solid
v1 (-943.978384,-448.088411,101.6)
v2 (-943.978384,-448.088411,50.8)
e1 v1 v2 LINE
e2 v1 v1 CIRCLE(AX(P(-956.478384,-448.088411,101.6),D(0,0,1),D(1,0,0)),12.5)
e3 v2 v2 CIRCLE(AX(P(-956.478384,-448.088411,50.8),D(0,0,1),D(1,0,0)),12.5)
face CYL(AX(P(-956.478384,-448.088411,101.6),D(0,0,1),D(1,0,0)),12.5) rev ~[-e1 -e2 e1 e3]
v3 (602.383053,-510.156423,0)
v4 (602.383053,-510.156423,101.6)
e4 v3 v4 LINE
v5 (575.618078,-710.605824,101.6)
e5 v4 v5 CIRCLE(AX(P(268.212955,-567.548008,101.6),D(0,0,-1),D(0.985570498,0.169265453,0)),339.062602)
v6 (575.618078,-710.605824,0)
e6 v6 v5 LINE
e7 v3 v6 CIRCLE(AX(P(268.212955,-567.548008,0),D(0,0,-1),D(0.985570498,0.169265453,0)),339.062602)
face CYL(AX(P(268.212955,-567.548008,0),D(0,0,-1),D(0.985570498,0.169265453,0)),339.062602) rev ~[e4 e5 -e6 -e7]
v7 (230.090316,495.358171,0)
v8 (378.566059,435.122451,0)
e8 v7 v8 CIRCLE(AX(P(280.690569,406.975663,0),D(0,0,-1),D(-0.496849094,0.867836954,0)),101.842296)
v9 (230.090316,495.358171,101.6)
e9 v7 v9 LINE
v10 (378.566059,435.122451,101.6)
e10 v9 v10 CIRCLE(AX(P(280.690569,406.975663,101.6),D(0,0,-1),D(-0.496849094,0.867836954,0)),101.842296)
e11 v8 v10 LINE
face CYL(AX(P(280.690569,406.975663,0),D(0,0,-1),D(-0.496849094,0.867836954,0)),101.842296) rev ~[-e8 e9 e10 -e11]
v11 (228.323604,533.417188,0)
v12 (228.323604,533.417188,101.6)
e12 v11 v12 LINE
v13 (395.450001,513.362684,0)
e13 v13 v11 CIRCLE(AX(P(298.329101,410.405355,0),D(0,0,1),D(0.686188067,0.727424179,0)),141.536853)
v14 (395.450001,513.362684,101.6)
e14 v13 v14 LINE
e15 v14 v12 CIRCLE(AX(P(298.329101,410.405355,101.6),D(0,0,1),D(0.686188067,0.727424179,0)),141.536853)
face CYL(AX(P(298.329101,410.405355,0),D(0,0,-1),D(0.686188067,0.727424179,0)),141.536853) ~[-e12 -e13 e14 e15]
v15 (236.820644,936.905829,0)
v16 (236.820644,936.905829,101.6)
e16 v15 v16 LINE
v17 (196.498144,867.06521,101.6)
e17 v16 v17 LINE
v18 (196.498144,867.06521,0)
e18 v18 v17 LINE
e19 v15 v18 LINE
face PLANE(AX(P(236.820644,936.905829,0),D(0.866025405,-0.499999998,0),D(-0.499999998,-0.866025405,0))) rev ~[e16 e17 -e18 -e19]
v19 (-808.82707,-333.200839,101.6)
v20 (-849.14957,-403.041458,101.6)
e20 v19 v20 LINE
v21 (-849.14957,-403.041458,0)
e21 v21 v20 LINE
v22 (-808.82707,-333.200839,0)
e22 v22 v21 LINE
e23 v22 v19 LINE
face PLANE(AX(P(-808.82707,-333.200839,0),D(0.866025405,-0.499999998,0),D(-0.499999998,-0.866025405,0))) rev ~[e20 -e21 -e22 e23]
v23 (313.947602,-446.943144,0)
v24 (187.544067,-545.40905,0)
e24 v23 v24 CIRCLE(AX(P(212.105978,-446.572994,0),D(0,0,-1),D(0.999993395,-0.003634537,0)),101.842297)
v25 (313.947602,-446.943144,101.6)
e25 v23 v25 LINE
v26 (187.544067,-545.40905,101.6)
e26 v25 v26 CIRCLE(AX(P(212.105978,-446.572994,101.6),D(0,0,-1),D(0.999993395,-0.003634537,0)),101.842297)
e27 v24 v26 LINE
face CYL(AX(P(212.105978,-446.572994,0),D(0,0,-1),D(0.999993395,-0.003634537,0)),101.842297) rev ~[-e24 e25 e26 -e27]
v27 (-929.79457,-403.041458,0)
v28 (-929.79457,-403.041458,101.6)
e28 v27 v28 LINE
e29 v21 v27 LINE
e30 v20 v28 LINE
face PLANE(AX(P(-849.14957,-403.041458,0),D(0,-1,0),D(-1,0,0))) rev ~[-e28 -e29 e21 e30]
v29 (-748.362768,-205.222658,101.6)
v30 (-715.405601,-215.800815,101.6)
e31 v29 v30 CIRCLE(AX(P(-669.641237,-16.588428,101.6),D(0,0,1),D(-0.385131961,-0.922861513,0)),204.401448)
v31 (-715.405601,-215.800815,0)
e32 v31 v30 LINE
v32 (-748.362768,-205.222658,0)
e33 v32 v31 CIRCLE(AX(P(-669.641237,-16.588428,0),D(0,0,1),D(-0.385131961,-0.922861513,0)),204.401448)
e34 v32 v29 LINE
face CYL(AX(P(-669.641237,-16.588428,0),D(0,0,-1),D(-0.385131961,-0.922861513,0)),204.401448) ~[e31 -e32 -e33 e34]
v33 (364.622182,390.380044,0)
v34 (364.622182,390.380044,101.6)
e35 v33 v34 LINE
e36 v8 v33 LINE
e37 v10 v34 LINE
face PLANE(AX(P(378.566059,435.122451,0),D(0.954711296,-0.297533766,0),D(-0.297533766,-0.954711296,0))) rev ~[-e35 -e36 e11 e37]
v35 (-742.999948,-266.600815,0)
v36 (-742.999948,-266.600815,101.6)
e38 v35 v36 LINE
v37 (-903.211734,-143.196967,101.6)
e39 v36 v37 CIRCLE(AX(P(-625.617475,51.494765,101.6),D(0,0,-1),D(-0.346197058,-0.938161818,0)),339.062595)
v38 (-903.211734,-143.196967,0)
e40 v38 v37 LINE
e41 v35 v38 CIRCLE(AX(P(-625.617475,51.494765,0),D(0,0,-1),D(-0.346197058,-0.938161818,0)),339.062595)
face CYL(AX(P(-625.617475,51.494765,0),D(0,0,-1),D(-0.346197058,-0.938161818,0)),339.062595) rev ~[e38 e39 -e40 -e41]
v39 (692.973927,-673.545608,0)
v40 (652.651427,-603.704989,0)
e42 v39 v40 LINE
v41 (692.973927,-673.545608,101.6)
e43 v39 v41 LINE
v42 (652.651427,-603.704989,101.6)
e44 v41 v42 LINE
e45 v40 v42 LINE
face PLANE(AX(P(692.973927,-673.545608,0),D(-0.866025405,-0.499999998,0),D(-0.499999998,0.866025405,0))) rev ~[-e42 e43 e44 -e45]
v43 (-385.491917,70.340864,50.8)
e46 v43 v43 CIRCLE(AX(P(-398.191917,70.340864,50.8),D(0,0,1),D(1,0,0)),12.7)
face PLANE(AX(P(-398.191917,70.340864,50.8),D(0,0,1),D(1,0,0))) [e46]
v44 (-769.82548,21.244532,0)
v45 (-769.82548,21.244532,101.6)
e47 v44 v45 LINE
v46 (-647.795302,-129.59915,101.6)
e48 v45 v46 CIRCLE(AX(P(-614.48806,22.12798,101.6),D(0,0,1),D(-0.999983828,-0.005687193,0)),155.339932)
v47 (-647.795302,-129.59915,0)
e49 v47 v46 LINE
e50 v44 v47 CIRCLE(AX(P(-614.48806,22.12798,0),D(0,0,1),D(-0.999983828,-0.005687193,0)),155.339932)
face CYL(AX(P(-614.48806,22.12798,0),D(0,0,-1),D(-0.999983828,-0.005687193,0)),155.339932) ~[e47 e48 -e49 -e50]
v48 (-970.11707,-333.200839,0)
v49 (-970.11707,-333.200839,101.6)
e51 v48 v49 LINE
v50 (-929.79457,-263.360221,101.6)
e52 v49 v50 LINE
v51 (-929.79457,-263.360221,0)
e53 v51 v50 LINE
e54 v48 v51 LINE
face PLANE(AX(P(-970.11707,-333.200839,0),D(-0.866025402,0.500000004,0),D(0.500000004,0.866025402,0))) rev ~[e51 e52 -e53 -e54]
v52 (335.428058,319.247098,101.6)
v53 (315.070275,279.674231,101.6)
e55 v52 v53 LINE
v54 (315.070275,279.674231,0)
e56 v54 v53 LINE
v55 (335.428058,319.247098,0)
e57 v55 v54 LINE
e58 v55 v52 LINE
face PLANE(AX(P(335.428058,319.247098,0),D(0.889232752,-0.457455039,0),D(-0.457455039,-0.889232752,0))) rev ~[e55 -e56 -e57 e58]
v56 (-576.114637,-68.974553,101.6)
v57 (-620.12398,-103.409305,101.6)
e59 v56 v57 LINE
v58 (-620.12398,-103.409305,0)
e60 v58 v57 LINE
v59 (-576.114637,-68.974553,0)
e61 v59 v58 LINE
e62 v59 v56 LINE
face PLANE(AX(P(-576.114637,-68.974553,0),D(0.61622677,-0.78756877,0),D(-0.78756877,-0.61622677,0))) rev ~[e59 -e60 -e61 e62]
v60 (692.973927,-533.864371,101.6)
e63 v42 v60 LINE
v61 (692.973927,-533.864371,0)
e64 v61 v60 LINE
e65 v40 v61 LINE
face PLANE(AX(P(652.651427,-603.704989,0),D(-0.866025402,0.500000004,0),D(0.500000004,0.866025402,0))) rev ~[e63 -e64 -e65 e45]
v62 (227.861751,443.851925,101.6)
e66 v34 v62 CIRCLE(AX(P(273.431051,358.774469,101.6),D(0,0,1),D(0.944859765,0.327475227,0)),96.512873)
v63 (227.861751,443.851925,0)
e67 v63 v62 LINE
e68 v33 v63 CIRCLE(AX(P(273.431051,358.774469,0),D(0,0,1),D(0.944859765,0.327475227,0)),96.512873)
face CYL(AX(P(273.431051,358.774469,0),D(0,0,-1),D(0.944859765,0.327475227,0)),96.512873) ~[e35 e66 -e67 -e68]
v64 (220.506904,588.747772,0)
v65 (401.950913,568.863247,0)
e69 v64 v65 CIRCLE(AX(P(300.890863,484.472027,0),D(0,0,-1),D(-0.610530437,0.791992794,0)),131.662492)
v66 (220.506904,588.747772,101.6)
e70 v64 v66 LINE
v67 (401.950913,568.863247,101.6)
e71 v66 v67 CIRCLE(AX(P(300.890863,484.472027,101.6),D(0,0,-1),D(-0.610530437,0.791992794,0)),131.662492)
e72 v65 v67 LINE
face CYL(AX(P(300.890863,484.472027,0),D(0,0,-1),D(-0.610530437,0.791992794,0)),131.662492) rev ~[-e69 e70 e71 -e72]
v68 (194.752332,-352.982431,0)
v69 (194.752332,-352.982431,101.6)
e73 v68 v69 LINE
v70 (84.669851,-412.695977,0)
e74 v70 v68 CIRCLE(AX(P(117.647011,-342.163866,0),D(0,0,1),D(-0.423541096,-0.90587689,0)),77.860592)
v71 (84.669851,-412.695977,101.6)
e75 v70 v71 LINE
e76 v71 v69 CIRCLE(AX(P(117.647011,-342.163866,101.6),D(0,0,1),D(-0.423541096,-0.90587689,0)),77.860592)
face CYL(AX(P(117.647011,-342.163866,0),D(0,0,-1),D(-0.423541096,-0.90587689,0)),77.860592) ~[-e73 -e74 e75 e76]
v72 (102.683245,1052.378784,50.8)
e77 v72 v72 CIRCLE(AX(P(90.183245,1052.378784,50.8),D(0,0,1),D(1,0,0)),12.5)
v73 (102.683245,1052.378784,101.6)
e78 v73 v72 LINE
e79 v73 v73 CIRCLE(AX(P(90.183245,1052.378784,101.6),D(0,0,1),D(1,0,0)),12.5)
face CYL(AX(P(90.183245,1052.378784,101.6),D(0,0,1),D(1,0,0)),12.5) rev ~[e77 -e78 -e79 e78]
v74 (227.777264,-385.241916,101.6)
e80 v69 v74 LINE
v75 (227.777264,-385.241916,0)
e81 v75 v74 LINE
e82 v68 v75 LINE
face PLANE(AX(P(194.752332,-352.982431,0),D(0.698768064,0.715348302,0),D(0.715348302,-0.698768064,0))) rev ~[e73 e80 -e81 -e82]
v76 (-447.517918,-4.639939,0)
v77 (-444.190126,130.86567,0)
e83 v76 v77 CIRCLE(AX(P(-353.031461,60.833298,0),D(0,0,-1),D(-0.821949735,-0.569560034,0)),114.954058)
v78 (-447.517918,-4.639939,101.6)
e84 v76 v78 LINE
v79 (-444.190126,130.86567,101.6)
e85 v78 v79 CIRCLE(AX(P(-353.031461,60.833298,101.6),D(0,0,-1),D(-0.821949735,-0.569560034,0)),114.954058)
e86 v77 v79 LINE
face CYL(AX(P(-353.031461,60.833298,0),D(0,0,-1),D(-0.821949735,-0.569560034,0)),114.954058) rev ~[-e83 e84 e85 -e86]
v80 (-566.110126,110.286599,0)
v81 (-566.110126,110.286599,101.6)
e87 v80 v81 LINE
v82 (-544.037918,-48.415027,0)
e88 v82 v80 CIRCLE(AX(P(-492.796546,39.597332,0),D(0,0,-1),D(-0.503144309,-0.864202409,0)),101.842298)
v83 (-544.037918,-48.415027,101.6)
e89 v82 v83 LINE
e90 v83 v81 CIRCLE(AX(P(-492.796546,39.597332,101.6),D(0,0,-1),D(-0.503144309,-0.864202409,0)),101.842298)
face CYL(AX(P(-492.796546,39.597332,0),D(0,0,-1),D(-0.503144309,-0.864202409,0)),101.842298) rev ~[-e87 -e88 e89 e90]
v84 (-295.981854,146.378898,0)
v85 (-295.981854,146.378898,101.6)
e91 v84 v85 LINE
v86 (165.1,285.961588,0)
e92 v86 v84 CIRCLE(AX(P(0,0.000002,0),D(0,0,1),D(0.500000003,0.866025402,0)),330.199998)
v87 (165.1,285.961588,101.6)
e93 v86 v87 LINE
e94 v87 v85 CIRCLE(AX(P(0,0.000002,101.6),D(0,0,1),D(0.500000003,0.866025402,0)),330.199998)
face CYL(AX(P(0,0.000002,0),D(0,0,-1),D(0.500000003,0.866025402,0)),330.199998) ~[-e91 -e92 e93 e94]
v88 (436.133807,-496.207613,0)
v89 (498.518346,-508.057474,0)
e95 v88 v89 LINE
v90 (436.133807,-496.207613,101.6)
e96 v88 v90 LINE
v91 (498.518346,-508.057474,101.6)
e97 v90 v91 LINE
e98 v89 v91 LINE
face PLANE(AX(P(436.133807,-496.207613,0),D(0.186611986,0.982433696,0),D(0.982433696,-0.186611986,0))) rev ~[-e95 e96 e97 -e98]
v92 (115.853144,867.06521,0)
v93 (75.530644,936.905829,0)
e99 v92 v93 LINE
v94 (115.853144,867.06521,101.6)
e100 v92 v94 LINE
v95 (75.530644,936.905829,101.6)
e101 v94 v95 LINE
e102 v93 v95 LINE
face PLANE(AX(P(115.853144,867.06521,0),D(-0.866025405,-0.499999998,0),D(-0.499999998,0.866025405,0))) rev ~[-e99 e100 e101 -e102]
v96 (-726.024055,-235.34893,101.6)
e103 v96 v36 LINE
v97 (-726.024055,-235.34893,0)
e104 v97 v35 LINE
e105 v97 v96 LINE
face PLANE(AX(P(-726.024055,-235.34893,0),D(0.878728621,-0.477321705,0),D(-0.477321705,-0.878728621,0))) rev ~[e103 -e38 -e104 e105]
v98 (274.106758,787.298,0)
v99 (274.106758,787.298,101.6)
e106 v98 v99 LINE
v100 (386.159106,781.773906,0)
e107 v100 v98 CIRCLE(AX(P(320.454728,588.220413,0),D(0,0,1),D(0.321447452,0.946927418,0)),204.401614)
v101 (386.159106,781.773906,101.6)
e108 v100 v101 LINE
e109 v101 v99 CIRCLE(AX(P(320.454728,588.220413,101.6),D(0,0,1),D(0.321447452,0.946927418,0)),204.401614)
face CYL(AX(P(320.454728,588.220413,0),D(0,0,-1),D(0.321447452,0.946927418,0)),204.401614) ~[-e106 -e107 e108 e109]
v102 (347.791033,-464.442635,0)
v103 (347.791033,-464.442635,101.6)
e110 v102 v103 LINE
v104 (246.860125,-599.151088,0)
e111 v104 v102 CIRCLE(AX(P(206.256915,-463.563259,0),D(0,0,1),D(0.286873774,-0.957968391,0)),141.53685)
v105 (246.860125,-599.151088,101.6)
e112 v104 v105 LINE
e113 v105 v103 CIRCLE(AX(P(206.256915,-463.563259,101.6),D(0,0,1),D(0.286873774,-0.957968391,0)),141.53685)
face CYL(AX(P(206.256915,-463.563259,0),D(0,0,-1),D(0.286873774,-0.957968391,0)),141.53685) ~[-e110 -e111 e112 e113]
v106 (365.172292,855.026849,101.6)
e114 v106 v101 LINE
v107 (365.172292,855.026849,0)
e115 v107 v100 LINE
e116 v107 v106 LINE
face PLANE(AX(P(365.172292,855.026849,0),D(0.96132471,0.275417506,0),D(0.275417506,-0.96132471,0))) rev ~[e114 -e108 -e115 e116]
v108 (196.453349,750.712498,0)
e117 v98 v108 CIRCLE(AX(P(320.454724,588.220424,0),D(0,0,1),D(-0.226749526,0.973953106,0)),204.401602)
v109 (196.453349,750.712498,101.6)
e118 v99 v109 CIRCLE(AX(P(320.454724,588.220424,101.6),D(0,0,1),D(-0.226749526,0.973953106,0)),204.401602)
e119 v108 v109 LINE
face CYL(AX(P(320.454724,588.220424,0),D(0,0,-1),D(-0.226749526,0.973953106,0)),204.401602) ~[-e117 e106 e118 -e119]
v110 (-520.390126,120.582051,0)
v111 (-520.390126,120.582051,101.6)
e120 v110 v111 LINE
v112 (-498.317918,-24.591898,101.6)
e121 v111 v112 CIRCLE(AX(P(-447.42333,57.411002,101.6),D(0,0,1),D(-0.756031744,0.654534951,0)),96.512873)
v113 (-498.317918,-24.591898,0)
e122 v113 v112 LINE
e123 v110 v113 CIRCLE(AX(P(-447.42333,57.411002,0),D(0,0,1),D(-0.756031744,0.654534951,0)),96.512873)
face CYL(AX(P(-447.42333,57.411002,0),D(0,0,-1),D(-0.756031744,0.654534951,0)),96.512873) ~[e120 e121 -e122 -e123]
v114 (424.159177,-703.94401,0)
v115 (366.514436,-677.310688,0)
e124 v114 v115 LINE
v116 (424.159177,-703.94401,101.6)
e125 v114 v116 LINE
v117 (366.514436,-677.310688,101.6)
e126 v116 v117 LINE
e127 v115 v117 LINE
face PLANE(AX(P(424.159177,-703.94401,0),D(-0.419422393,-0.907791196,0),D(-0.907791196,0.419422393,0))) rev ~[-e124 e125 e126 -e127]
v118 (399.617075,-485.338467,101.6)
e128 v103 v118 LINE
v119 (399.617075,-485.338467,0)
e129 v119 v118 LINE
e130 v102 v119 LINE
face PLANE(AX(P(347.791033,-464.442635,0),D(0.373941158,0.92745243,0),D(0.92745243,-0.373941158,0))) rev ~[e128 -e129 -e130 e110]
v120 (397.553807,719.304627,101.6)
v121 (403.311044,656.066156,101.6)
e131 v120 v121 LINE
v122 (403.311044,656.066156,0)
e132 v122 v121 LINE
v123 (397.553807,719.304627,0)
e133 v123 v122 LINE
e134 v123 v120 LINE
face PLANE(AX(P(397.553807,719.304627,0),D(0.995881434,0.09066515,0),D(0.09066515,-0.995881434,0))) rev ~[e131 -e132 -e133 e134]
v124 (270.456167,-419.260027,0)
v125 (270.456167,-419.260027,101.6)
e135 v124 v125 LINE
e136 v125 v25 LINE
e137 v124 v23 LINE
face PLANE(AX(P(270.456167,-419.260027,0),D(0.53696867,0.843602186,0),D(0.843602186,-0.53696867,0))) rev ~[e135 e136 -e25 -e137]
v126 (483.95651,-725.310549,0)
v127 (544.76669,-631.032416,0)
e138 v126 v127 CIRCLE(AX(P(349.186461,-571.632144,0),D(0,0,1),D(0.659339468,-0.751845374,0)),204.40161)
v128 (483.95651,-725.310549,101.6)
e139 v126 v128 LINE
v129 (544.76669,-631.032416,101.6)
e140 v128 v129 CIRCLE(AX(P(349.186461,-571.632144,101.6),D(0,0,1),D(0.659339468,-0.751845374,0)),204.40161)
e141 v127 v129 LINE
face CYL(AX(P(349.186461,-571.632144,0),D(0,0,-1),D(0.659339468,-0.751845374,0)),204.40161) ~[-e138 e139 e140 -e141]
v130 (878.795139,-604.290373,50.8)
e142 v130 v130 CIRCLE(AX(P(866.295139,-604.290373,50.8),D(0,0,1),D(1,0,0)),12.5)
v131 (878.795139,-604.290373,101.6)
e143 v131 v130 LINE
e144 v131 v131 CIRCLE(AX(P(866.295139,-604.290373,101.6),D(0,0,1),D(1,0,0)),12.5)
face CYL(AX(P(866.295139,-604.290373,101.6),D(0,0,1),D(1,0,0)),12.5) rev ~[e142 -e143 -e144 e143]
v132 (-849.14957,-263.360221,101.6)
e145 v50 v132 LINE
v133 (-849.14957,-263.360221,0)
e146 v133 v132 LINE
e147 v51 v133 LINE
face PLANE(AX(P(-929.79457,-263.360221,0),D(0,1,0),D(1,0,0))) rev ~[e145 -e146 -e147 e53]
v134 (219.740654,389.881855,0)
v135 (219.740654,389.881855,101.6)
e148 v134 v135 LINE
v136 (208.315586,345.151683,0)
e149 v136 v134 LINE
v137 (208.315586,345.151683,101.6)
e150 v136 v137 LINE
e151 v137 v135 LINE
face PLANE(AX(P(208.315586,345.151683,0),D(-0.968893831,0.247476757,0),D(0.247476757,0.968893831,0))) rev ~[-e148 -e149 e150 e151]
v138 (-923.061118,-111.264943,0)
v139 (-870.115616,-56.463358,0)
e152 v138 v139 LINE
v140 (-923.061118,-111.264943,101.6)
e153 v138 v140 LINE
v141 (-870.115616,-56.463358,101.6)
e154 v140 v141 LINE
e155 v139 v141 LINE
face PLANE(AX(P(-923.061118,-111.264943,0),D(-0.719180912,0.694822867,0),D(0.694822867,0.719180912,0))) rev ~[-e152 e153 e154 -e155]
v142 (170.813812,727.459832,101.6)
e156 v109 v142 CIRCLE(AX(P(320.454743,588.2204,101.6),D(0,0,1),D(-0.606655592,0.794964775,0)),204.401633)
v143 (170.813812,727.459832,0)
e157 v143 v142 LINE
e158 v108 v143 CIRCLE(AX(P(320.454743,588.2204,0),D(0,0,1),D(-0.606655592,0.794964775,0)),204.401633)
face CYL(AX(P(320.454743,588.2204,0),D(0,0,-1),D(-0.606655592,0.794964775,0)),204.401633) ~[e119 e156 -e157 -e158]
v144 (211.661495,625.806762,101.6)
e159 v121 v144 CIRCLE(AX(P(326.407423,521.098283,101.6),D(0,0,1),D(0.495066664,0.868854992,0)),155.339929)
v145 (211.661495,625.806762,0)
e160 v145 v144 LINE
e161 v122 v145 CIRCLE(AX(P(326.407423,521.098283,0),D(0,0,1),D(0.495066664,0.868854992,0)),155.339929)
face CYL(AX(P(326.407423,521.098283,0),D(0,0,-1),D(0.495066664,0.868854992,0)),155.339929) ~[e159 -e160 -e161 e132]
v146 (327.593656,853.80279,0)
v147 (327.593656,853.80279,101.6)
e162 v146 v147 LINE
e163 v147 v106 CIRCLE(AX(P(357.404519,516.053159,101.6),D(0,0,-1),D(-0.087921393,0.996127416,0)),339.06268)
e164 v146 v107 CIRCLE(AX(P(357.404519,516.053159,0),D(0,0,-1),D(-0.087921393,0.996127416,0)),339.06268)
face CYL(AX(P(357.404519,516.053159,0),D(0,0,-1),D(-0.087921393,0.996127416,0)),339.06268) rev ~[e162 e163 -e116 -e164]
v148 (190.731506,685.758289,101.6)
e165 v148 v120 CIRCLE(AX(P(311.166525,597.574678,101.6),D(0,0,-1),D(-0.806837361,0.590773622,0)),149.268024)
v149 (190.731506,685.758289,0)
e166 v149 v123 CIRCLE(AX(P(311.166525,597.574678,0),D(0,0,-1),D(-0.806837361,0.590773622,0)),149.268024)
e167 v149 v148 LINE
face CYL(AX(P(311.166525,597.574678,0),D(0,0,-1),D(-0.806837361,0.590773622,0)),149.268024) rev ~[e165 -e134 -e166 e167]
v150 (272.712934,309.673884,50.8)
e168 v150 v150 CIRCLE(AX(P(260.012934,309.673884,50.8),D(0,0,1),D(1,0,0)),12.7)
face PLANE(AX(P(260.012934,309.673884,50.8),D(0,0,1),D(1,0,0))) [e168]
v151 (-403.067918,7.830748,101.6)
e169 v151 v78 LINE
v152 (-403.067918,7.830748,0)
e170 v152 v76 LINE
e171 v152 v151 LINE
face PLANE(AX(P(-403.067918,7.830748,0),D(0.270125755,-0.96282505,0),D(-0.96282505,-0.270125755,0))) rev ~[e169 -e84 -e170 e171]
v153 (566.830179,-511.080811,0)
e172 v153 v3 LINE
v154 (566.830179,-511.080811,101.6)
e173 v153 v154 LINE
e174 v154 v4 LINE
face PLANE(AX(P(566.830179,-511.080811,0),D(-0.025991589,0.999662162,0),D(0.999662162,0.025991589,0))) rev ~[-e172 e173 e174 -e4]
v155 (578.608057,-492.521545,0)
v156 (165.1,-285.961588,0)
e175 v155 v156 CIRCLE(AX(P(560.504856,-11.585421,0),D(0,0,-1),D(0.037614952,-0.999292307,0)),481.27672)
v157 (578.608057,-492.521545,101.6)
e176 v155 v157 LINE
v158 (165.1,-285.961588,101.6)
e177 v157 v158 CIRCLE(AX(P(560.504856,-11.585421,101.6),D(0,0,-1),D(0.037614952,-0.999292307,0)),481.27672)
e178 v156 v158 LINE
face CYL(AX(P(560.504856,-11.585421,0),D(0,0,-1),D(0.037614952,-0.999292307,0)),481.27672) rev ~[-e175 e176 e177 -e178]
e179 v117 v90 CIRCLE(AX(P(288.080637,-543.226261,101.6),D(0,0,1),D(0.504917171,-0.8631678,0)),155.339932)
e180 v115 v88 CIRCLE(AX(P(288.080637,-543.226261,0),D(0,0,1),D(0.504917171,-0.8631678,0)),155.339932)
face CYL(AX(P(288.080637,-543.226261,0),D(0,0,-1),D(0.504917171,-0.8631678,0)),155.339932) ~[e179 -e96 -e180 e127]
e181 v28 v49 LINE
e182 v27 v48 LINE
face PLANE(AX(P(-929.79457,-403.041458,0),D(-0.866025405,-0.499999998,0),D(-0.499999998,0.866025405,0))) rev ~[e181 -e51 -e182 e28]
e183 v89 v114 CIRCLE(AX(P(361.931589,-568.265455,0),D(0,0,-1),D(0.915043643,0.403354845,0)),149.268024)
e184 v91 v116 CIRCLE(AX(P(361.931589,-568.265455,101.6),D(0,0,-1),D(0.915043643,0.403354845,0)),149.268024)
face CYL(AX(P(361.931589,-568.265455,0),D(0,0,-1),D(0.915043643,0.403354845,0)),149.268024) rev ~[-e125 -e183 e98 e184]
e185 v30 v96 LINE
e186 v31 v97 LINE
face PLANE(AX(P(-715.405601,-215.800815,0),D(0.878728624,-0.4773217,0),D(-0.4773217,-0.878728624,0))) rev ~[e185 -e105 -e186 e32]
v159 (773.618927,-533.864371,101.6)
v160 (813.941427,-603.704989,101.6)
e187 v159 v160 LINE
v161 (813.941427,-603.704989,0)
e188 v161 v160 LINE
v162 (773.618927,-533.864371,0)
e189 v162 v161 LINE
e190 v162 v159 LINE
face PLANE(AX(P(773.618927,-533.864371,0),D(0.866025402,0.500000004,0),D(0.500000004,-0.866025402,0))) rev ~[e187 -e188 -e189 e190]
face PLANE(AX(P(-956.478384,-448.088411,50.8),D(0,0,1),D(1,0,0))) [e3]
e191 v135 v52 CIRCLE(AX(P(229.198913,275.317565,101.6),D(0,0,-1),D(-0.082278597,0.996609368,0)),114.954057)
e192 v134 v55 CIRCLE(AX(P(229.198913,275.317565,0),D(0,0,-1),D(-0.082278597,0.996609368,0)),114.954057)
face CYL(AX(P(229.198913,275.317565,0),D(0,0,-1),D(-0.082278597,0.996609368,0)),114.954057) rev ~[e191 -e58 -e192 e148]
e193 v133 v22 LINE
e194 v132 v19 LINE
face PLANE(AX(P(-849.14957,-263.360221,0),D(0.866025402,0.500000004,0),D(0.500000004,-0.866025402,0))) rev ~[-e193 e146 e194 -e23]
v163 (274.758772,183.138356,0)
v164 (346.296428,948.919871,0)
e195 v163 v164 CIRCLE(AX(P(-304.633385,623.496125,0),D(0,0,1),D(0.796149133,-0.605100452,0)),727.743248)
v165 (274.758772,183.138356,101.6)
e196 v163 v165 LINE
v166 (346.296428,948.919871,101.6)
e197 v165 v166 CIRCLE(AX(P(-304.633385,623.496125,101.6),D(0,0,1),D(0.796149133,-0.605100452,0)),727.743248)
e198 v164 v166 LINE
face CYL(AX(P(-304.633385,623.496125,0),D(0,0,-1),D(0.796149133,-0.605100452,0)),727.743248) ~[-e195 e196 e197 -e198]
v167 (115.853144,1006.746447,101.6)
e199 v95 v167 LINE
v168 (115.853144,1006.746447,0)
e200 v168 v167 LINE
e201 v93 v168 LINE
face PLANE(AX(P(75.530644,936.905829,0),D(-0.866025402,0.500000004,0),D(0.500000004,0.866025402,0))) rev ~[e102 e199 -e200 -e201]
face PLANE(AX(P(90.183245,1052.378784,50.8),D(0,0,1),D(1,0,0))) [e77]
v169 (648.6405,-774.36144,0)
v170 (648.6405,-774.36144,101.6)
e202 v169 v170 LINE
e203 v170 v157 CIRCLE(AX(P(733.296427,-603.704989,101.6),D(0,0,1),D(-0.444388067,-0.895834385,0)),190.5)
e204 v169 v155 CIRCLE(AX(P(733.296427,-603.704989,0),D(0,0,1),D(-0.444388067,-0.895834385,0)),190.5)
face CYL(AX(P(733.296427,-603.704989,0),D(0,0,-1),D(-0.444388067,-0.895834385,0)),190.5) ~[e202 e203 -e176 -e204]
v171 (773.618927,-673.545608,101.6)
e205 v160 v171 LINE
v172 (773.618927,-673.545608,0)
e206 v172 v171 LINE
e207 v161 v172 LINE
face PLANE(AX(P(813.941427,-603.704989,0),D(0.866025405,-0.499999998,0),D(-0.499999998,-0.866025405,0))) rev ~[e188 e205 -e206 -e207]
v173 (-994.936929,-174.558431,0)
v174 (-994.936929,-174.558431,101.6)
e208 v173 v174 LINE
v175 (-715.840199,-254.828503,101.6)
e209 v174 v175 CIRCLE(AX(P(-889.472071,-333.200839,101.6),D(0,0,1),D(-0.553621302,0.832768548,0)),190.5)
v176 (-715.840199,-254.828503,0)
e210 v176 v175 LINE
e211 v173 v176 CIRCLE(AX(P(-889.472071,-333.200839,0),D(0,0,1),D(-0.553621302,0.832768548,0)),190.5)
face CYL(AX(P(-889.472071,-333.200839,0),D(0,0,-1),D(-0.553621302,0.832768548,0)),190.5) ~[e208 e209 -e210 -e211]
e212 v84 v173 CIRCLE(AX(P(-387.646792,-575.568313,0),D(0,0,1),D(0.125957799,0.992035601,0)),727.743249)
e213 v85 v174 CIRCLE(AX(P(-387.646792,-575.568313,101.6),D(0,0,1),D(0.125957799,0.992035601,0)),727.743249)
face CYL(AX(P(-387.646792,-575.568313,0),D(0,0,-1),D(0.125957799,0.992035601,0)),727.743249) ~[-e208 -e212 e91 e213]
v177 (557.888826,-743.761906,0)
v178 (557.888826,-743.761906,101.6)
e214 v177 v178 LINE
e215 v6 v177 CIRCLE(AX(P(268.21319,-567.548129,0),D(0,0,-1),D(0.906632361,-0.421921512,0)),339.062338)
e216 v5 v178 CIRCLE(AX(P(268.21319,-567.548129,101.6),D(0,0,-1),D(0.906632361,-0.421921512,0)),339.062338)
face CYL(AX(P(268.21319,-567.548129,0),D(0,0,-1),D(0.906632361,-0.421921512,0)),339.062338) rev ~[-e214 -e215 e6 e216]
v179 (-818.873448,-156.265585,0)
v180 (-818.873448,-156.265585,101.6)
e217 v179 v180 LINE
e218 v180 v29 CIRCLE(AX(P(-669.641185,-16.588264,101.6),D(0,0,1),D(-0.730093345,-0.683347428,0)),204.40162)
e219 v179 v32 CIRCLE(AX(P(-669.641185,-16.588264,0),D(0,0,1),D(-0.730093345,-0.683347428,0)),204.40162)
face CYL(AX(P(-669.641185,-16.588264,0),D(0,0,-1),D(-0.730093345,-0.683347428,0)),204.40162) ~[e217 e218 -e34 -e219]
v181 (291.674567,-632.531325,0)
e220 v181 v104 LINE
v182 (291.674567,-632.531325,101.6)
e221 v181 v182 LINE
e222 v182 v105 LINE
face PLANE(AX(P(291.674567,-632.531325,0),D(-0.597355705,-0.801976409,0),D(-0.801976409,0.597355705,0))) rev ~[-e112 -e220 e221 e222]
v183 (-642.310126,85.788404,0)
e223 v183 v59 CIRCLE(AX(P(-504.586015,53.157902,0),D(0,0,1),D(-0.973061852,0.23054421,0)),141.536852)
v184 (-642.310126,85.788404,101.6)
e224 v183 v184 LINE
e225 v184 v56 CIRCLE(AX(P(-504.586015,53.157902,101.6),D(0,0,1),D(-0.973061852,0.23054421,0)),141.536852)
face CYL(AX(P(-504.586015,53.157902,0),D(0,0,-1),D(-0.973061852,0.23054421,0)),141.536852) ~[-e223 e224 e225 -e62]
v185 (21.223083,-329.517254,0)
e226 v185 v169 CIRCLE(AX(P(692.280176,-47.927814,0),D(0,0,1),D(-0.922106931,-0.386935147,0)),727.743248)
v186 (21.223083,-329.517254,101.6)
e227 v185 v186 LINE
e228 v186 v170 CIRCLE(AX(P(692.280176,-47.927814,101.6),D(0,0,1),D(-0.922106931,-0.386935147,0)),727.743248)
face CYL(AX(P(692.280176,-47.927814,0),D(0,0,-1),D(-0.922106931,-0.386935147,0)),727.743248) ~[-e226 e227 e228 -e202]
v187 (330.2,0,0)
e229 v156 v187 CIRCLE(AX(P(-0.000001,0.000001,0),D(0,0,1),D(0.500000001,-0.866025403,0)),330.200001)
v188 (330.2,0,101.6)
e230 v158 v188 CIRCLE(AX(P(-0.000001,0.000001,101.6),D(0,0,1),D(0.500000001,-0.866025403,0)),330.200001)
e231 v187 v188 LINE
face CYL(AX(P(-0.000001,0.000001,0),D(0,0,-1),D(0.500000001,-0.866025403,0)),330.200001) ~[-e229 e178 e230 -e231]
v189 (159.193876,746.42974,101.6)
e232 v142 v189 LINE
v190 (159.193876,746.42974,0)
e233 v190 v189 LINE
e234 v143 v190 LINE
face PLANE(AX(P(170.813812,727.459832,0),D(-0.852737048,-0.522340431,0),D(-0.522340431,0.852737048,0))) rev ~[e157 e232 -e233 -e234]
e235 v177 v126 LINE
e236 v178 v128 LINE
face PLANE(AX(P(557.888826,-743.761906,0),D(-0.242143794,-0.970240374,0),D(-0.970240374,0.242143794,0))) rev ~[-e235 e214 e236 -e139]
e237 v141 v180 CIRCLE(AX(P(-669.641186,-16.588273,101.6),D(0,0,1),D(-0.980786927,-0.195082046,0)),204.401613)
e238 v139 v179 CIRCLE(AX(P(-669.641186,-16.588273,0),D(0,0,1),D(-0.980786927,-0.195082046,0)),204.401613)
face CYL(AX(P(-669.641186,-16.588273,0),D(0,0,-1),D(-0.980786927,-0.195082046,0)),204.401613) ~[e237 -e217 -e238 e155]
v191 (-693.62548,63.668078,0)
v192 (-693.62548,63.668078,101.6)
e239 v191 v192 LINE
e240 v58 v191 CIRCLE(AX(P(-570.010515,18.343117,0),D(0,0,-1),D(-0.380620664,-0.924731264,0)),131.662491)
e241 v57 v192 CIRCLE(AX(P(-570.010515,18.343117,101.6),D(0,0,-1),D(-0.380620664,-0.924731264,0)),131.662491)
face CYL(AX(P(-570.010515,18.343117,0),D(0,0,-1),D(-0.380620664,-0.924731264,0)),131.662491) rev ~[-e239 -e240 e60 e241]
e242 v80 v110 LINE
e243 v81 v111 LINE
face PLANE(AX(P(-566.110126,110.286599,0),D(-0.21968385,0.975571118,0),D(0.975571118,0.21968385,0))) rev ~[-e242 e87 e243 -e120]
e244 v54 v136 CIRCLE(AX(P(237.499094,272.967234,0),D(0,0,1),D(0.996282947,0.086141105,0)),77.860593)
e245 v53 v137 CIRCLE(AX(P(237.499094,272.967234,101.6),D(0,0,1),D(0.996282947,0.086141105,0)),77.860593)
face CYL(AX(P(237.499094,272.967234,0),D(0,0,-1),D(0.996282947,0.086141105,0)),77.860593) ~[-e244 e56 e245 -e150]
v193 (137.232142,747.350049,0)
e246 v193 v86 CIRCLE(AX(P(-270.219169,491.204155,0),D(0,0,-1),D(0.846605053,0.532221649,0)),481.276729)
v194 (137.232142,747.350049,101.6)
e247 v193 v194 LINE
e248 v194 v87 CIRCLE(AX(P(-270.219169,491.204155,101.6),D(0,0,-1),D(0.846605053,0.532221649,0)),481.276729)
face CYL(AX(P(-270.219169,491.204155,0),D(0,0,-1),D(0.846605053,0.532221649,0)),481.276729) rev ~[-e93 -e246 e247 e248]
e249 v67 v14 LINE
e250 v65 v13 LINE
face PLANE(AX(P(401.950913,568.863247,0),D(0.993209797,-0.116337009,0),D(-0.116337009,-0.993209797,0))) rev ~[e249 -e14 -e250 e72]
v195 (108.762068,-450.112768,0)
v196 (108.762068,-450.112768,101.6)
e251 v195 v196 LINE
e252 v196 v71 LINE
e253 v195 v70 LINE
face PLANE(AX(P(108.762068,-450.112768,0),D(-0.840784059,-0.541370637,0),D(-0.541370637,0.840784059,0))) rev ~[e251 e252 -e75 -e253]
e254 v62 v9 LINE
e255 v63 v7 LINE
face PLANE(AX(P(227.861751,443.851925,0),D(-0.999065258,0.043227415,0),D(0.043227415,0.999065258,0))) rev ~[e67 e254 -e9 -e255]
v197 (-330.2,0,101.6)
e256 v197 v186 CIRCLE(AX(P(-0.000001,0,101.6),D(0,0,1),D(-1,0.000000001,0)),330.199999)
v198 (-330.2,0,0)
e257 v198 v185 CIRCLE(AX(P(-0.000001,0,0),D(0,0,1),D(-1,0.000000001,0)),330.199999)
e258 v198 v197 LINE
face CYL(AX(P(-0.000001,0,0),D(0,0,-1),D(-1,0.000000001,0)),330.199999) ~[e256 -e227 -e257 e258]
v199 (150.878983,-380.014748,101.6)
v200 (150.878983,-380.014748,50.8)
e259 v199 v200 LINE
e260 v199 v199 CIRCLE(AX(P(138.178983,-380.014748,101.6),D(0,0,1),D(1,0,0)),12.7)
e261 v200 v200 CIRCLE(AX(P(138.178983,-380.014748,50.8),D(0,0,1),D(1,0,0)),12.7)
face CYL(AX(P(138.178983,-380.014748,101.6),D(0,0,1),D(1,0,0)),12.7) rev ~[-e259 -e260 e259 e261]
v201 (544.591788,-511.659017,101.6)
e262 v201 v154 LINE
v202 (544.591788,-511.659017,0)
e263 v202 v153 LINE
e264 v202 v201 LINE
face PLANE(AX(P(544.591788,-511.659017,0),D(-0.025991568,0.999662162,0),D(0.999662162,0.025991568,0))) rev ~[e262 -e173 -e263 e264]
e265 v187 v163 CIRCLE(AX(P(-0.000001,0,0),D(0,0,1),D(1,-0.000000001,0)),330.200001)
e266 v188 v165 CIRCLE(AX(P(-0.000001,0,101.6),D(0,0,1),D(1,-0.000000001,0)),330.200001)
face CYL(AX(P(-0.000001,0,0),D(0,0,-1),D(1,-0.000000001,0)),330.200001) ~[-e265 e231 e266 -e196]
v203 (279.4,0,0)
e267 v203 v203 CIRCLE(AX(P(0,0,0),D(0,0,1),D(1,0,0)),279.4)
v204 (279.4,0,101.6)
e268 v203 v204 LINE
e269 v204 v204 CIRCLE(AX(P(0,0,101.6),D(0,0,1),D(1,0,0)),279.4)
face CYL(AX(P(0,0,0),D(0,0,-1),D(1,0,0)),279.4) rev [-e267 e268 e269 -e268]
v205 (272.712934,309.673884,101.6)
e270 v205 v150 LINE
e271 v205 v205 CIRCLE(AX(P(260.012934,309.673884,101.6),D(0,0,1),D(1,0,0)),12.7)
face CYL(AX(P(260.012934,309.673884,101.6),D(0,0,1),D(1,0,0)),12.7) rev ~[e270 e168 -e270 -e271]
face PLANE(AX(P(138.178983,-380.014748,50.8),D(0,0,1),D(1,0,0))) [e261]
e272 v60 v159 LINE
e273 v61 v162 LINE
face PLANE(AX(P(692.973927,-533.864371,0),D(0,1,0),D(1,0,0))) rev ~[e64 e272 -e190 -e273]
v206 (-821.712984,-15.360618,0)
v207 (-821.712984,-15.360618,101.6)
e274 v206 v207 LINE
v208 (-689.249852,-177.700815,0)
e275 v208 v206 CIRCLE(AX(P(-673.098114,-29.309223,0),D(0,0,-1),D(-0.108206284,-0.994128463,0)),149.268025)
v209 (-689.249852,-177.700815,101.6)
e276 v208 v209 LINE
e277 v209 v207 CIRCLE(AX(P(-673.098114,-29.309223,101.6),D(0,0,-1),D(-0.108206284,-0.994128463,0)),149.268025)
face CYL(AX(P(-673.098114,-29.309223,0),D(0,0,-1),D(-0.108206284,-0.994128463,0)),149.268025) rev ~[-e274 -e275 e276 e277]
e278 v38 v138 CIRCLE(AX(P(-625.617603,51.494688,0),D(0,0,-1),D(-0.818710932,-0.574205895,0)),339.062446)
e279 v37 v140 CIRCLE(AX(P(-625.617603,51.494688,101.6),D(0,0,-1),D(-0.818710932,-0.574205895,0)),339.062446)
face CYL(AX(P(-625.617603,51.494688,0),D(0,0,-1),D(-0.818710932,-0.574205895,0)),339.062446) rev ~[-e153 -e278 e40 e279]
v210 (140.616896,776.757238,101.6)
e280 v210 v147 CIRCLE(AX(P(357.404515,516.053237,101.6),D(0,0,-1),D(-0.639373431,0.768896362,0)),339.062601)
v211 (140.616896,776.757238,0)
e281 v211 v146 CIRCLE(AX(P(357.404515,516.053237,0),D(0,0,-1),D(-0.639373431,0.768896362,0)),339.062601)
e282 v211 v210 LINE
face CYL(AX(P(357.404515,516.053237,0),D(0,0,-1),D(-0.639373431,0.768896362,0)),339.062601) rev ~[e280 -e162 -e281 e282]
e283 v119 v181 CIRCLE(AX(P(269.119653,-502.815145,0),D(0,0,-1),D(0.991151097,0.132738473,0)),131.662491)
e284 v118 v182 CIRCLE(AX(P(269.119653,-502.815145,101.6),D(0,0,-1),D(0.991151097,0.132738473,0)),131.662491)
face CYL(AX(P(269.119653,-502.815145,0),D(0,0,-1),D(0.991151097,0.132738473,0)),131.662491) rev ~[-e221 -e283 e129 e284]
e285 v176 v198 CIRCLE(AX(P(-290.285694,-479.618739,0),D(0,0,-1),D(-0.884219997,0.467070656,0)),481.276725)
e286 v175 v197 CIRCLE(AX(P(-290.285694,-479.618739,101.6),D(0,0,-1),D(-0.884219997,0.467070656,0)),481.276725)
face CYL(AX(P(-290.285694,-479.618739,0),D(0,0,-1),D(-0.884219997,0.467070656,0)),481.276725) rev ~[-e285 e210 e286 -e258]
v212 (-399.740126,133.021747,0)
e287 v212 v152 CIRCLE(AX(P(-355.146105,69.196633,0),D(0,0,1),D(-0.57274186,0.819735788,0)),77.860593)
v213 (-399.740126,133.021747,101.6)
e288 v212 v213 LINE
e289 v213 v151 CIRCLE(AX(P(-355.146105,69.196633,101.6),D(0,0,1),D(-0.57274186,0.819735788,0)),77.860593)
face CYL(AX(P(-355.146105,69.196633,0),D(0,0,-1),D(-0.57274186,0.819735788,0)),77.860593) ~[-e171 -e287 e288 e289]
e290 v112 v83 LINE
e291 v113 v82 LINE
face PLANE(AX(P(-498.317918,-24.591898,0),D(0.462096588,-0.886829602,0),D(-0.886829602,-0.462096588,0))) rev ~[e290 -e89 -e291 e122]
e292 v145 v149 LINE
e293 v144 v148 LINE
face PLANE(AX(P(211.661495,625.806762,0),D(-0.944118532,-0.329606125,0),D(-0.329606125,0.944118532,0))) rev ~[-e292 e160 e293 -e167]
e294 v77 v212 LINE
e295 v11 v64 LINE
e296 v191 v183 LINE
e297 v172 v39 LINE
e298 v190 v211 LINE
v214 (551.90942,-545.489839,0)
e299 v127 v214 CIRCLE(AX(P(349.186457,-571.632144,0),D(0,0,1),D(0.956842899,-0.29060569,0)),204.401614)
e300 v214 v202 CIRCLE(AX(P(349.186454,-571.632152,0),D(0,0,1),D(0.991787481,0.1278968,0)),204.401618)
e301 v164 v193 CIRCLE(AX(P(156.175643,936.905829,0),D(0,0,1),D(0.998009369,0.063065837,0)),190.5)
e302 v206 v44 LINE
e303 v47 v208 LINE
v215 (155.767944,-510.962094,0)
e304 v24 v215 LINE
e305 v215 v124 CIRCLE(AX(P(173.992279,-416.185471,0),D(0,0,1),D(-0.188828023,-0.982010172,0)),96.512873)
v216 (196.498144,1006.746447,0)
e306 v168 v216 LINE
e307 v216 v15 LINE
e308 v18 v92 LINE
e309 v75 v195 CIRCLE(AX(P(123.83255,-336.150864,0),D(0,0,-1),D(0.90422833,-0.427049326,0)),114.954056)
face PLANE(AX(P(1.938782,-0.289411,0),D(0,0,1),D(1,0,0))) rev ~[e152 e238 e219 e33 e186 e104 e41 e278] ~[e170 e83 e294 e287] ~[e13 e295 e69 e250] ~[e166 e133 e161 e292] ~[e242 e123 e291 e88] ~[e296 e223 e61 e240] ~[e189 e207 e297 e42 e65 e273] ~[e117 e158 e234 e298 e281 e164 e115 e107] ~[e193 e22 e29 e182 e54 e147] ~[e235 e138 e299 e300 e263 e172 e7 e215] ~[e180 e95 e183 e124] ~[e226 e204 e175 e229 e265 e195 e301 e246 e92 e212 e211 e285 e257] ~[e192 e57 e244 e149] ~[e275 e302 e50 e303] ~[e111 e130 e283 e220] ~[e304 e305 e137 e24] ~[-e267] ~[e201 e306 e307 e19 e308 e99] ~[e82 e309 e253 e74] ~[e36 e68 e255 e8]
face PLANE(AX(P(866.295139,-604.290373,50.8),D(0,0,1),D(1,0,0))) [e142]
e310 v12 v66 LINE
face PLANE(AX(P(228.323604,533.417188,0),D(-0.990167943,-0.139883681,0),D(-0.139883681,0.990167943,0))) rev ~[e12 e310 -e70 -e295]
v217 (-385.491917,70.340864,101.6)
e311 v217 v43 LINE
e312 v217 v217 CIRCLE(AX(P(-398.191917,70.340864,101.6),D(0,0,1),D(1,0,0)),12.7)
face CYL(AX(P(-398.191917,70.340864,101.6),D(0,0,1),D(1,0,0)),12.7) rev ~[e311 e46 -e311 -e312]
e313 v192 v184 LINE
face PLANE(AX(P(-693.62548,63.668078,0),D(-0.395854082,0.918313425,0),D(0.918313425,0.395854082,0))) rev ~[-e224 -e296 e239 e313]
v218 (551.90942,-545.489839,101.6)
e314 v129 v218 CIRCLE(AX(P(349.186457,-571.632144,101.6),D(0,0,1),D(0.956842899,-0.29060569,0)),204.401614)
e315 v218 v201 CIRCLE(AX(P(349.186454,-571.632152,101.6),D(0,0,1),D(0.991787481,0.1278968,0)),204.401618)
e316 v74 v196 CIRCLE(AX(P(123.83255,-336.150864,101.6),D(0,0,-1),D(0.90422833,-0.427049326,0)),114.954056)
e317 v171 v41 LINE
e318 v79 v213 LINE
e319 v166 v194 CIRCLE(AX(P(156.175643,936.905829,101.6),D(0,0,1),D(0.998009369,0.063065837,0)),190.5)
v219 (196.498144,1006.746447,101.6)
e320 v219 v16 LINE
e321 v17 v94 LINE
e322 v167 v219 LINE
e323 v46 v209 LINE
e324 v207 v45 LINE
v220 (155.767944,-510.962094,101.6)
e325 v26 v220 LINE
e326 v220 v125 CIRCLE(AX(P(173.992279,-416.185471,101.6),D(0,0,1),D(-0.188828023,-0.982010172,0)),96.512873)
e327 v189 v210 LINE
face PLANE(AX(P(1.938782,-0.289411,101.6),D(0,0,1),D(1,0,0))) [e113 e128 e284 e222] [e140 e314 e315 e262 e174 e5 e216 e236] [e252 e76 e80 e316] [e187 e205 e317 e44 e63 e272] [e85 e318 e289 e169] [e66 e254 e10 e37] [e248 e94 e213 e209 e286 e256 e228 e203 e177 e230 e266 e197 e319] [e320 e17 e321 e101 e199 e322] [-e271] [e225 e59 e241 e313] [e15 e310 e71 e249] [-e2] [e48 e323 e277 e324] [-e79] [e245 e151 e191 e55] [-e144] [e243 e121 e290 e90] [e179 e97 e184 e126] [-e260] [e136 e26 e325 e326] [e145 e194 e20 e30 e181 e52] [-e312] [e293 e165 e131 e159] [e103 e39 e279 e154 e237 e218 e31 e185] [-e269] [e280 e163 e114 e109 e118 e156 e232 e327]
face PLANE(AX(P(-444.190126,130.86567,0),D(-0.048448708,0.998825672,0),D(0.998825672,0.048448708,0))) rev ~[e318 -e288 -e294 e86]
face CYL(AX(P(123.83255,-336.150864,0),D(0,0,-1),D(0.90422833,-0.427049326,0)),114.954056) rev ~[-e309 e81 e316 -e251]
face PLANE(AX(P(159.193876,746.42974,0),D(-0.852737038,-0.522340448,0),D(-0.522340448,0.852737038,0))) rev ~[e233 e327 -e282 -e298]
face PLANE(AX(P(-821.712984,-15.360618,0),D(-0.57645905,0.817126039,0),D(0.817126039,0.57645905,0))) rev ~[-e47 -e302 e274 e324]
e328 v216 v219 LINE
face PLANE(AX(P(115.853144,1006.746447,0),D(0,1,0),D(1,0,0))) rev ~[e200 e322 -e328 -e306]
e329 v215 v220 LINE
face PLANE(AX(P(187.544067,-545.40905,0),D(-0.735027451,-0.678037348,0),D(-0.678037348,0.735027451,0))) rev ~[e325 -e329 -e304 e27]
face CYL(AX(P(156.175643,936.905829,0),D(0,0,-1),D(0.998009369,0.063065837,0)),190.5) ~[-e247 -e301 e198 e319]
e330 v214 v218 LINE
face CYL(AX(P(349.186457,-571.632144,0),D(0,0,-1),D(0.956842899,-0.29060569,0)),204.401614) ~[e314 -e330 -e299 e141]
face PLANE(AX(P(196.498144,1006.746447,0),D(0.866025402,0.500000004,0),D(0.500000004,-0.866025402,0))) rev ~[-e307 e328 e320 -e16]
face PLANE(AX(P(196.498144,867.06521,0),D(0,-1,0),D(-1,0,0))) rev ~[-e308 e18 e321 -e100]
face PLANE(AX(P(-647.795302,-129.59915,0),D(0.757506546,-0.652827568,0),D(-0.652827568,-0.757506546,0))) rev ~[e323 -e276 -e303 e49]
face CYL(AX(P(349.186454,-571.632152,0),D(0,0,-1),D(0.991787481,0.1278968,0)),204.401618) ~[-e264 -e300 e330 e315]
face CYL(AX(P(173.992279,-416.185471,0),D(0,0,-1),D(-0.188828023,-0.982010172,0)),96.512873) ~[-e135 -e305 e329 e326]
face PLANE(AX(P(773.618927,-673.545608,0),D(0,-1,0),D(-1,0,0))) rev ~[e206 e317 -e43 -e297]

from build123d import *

# Parameters (mm, degrees)
F0_R     = 279.4
F1_DEPTH = 101.6
F2_R     = 12.7
F2_R_2   = 12.5
F3_DEPTH = 50.8


with BuildPart() as f1:
    # F0 (on Top) → F1 (new body)
    with BuildSketch(Plane.XY):
        with BuildLine():
            ThreePointArc((165.1, -285.961588), (285.961588, -165.1), (330.2, 0))
            ThreePointArc((330.2, 0), (316.035905, 95.673125), (274.758772, 183.138356))
            ThreePointArc((274.758772, 183.138356), (225.85856, 240.873309), (165.1, 285.961588))
            ThreePointArc((165.1, 285.961588), (-95.673125, 316.035905), (-295.981854, 146.378898))
            ThreePointArc((-295.981854, 146.378898), (-321.531685, 75.162596), (-330.2, 0))
            ThreePointArc((-330.2, 0), (-225.85856, -240.873309), (21.223083, -329.517254))
            ThreePointArc((21.223083, -329.517254), (95.673125, -316.035905), (165.1, -285.961588))
        make_face()
        Circle(F0_R, mode=Mode.SUBTRACT)
        with BuildLine():
            ThreePointArc((165.1, 285.961588), (225.85856, 240.873309), (274.758772, 183.138356))
            ThreePointArc((274.758772, 183.138356), (419.955029, 555.806639), (346.296428, 948.919871))
            ThreePointArc((346.296428, 948.919871), (343.096456, 900.151785), (327.593656, 853.80279))
            ThreePointArc((327.593656, 853.80279), (346.365994, 854.936106), (365.172292, 855.026849))
            Line((365.172292, 855.026849), (386.159106, 781.773906))
            ThreePointArc((386.159106, 781.773906), (330.519346, 792.374089), (274.106758, 787.298))
            ThreePointArc((274.106758, 787.298), (233.337853, 773.127606), (196.453349, 750.712498))
            ThreePointArc((196.453349, 750.712498), (183.140497, 739.629863), (170.813812, 727.459832))
            Line((170.813812, 727.459832), (159.193876, 746.42974))
            ThreePointArc((159.193876, 746.42974), (148.199724, 746.572871), (137.232142, 747.350049))
            ThreePointArc((137.232142, 747.350049), (210.182068, 520.220384), (165.1, 285.961588))
        make_face()
        with BuildLine():
            ThreePointArc((219.740654, 389.881855), (289.102738, 373.429577), (335.428058, 319.247098))
            Line((335.428058, 319.247098), (315.070275, 279.674231))
            ThreePointArc((315.070275, 279.674231), (278.207397, 339.338206), (208.315586, 345.151683))
            Line((208.315586, 345.151683), (219.740654, 389.881855))
        make_face(mode=Mode.SUBTRACT)
        with BuildLine():
            ThreePointArc((230.090316, 495.358171), (318.97663, 501.347432), (378.566059, 435.122451))
            Line((378.566059, 435.122451), (364.622182, 390.380044))
            ThreePointArc((364.622182, 390.380044), (308.575729, 448.660988), (227.861751, 443.851925))
            Line((227.861751, 443.851925), (230.090316, 495.358171))
        make_face(mode=Mode.SUBTRACT)
        with BuildLine():
            ThreePointArc((220.506904, 588.747772), (315.233937, 615.350933), (401.950913, 568.863247))
            Line((401.950913, 568.863247), (395.450001, 513.362684))
            ThreePointArc((395.450001, 513.362684), (315.191991, 550.934084), (228.323604, 533.417188))
            Line((228.323604, 533.417188), (220.506904, 588.747772))
        make_face(mode=Mode.SUBTRACT)
        with BuildLine():
            ThreePointArc((190.731506, 685.758289), (287.267753, 744.917108), (397.553807, 719.304627))
            Line((397.553807, 719.304627), (403.311044, 656.066156))
            ThreePointArc((403.311044, 656.066156), (302.181037, 674.537443), (211.661495, 625.806762))
            Line((211.661495, 625.806762), (190.731506, 685.758289))
        make_face(mode=Mode.SUBTRACT)
        with BuildLine():
            ThreePointArc((578.608057, -492.521545), (345.433034, -442.133203), (165.1, -285.961588))
            ThreePointArc((165.1, -285.961588), (95.673125, -316.035905), (21.223083, -329.517254))
            ThreePointArc((21.223083, -329.517254), (271.365154, -641.595043), (648.6405, -774.36144))
            ThreePointArc((648.6405, -774.36144), (608.006084, -747.206139), (575.618078, -710.605824))
            ThreePointArc((575.618078, -710.605824), (567.21339, -727.429803), (557.888826, -743.761906))
            Line((557.888826, -743.761906), (483.95651, -725.310549))
            ThreePointArc((483.95651, -725.310549), (520.956418, -682.425195), (544.76669, -631.032416))
            ThreePointArc((544.76669, -631.032416), (552.879221, -588.640311), (551.90942, -545.489839))
            ThreePointArc((551.90942, -545.489839), (548.968002, -528.419254), (544.591788, -511.659017))
            Line((544.591788, -511.659017), (566.830179, -511.080811))
            ThreePointArc((566.830179, -511.080811), (572.45121, -501.631161), (578.608057, -492.521545))
        make_face()
        with BuildLine():
            ThreePointArc((227.777264, -385.241916), (178.848131, -437.085104), (108.762068, -450.112768))
            Line((108.762068, -450.112768), (84.669851, -412.695977))
            ThreePointArc((84.669851, -412.695977), (154.771808, -410.603776), (194.752332, -352.982431))
            Line((194.752332, -352.982431), (227.777264, -385.241916))
        make_face(mode=Mode.SUBTRACT)
        with BuildLine():
            ThreePointArc((313.947602, -446.943144), (274.691297, -526.915581), (187.544067, -545.40905))
            Line((187.544067, -545.40905), (155.767944, -510.962094))
            ThreePointArc((155.767944, -510.962094), (234.263949, -491.564914), (270.456167, -419.260027))
            Line((270.456167, -419.260027), (313.947602, -446.943144))
        make_face(mode=Mode.SUBTRACT)
        with BuildLine():
            ThreePointArc((399.617075, -485.338467), (375.292572, -580.676064), (291.674567, -632.531325))
            Line((291.674567, -632.531325), (246.860125, -599.151088))
            ThreePointArc((246.860125, -599.151088), (319.526917, -548.431313), (347.791033, -464.442635))
            Line((347.791033, -464.442635), (399.617075, -485.338467))
        make_face(mode=Mode.SUBTRACT)
        with BuildLine():
            ThreePointArc((498.518346, -508.057474), (501.483263, -621.239726), (424.159177, -703.94401))
            Line((424.159177, -703.94401), (366.514436, -677.310688))
            ThreePointArc((366.514436, -677.310688), (433.076043, -598.965176), (436.133807, -496.207613))
            Line((436.133807, -496.207613), (498.518346, -508.057474))
        make_face(mode=Mode.SUBTRACT)
        with BuildLine():
            ThreePointArc((327.593656, 853.80279), (343.096456, 900.151785), (346.296428, 948.919871))
            ThreePointArc((346.296428, 948.919871), (23.952295, 1074.045306), (137.232142, 747.350049))
            ThreePointArc((137.232142, 747.350049), (148.199724, 746.572871), (159.193876, 746.42974))
            Line((159.193876, 746.42974), (140.616896, 776.757238))
            ThreePointArc((140.616896, 776.757238), (228.227479, 829.544451), (327.593656, 853.80279))
        make_face()
        Polygon((75.530644, 936.905829), (115.853144, 1006.746447), (196.498144, 1006.746447), (236.820644, 936.905829), (196.498144, 867.06521), (115.853144, 867.06521), align=None, mode=Mode.SUBTRACT)
        with BuildLine():
            ThreePointArc((648.6405, -774.36144), (918.174372, -557.765949), (578.608057, -492.521545))
            ThreePointArc((578.608057, -492.521545), (572.45121, -501.631161), (566.830179, -511.080811))
            Line((566.830179, -511.080811), (602.383053, -510.156423))
            ThreePointArc((602.383053, -510.156423), (604.292829, -612.42302), (575.618078, -710.605824))
            ThreePointArc((575.618078, -710.605824), (608.006084, -747.206139), (648.6405, -774.36144))
        make_face()
        Polygon((773.618927, -533.864371), (813.941427, -603.704989), (773.618927, -673.545608), (692.973927, -673.545608), (652.651427, -603.704989), (692.973927, -533.864371), align=None, mode=Mode.SUBTRACT)
        with BuildLine():
            ThreePointArc((-330.2, 0), (-321.531685, 75.162596), (-295.981854, 146.378898))
            ThreePointArc((-295.981854, 146.378898), (-691.320184, 85.788404), (-994.936929, -174.558431))
            ThreePointArc((-994.936929, -174.558431), (-951.102541, -152.945645), (-903.211734, -143.196967))
            ThreePointArc((-903.211734, -143.196967), (-913.579384, -127.506303), (-923.061118, -111.264943))
            Line((-923.061118, -111.264943), (-870.115616, -56.463358))
            ThreePointArc((-870.115616, -56.463358), (-851.475764, -109.948895), (-818.873448, -156.265585))
            ThreePointArc((-818.873448, -156.265585), (-786.217073, -184.487295), (-748.362768, -205.222658))
            ThreePointArc((-748.362768, -205.222658), (-732.108499, -211.210609), (-715.405601, -215.800815))
            Line((-715.405601, -215.800815), (-726.024055, -235.34893))
            ThreePointArc((-726.024055, -235.34893), (-720.650934, -244.94171), (-715.840199, -254.828503))
            ThreePointArc((-715.840199, -254.828503), (-555.615102, -78.087181), (-330.2, 0))
        make_face()
        with BuildLine():
            ThreePointArc((-689.249852, -177.700815), (-788.751016, -123.677382), (-821.712984, -15.360618))
            Line((-821.712984, -15.360618), (-769.82548, 21.244532))
            ThreePointArc((-769.82548, 21.244532), (-735.25708, -75.572267), (-647.795302, -129.59915))
            Line((-647.795302, -129.59915), (-689.249852, -177.700815))
        make_face(mode=Mode.SUBTRACT)
        with BuildLine():
            Line((-576.114637, -68.974553), (-620.12398, -103.409305))
            ThreePointArc((-620.12398, -103.409305), (-690.526509, -34.674869), (-693.62548, 63.668078))
            Line((-693.62548, 63.668078), (-642.310126, 85.788404))
            ThreePointArc((-642.310126, 85.788404), (-634.718908, -2.502771), (-576.114637, -68.974553))
        make_face(mode=Mode.SUBTRACT)
        with BuildLine():
            Line((-498.317918, -24.591898), (-544.037918, -48.415027))
            ThreePointArc((-544.037918, -48.415027), (-593.667927, 25.568149), (-566.110126, 110.286599))
            Line((-566.110126, 110.286599), (-520.390126, 120.582051))
            ThreePointArc((-520.390126, 120.582051), (-542.839678, 42.903926), (-498.317918, -24.591898))
        make_face(mode=Mode.SUBTRACT)
        with BuildLine():
            ThreePointArc((-447.517918, -4.639939), (-467.950869, 63.655527), (-444.190126, 130.86567))
            Line((-444.190126, 130.86567), (-399.740126, 133.021747))
            ThreePointArc((-399.740126, 133.021747), (-432.979205, 71.26557), (-403.067918, 7.830748))
            Line((-403.067918, 7.830748), (-447.517918, -4.639939))
        make_face(mode=Mode.SUBTRACT)
        with BuildLine():
            ThreePointArc((-903.211734, -143.196967), (-951.102541, -152.945645), (-994.936929, -174.558431))
            ThreePointArc((-994.936929, -174.558431), (-942.126667, -516.279357), (-715.840199, -254.828503))
            ThreePointArc((-715.840199, -254.828503), (-720.650934, -244.94171), (-726.024055, -235.34893))
            Line((-726.024055, -235.34893), (-742.999948, -266.600815))
            ThreePointArc((-742.999948, -266.600815), (-832.520308, -217.121431), (-903.211734, -143.196967))
        make_face()
        Polygon((-849.14957, -263.360221), (-808.82707, -333.200839), (-849.14957, -403.041458), (-929.79457, -403.041458), (-970.11707, -333.200839), (-929.79457, -263.360221), align=None, mode=Mode.SUBTRACT)
    extrude(amount=F1_DEPTH)

    # F2 (on face) → F3 (cut)
    with BuildSketch(Plane.XY.offset(101.6)):
        with Locations((138.178983, -380.014748)):
            Circle(F2_R)
        with Locations((260.012934, 309.673884)):
            Circle(F2_R)
        with Locations((-398.191917, 70.340864)):
            Circle(F2_R)
        with Locations((866.295139, -604.290373)):
            Circle(F2_R_2)
        with Locations((90.183245, 1052.378784)):
            Circle(F2_R_2)
        with Locations((-956.478384, -448.088411)):
            Circle(F2_R_2)
    extrude(amount=-F3_DEPTH, mode=Mode.SUBTRACT)


solid = f1.part
